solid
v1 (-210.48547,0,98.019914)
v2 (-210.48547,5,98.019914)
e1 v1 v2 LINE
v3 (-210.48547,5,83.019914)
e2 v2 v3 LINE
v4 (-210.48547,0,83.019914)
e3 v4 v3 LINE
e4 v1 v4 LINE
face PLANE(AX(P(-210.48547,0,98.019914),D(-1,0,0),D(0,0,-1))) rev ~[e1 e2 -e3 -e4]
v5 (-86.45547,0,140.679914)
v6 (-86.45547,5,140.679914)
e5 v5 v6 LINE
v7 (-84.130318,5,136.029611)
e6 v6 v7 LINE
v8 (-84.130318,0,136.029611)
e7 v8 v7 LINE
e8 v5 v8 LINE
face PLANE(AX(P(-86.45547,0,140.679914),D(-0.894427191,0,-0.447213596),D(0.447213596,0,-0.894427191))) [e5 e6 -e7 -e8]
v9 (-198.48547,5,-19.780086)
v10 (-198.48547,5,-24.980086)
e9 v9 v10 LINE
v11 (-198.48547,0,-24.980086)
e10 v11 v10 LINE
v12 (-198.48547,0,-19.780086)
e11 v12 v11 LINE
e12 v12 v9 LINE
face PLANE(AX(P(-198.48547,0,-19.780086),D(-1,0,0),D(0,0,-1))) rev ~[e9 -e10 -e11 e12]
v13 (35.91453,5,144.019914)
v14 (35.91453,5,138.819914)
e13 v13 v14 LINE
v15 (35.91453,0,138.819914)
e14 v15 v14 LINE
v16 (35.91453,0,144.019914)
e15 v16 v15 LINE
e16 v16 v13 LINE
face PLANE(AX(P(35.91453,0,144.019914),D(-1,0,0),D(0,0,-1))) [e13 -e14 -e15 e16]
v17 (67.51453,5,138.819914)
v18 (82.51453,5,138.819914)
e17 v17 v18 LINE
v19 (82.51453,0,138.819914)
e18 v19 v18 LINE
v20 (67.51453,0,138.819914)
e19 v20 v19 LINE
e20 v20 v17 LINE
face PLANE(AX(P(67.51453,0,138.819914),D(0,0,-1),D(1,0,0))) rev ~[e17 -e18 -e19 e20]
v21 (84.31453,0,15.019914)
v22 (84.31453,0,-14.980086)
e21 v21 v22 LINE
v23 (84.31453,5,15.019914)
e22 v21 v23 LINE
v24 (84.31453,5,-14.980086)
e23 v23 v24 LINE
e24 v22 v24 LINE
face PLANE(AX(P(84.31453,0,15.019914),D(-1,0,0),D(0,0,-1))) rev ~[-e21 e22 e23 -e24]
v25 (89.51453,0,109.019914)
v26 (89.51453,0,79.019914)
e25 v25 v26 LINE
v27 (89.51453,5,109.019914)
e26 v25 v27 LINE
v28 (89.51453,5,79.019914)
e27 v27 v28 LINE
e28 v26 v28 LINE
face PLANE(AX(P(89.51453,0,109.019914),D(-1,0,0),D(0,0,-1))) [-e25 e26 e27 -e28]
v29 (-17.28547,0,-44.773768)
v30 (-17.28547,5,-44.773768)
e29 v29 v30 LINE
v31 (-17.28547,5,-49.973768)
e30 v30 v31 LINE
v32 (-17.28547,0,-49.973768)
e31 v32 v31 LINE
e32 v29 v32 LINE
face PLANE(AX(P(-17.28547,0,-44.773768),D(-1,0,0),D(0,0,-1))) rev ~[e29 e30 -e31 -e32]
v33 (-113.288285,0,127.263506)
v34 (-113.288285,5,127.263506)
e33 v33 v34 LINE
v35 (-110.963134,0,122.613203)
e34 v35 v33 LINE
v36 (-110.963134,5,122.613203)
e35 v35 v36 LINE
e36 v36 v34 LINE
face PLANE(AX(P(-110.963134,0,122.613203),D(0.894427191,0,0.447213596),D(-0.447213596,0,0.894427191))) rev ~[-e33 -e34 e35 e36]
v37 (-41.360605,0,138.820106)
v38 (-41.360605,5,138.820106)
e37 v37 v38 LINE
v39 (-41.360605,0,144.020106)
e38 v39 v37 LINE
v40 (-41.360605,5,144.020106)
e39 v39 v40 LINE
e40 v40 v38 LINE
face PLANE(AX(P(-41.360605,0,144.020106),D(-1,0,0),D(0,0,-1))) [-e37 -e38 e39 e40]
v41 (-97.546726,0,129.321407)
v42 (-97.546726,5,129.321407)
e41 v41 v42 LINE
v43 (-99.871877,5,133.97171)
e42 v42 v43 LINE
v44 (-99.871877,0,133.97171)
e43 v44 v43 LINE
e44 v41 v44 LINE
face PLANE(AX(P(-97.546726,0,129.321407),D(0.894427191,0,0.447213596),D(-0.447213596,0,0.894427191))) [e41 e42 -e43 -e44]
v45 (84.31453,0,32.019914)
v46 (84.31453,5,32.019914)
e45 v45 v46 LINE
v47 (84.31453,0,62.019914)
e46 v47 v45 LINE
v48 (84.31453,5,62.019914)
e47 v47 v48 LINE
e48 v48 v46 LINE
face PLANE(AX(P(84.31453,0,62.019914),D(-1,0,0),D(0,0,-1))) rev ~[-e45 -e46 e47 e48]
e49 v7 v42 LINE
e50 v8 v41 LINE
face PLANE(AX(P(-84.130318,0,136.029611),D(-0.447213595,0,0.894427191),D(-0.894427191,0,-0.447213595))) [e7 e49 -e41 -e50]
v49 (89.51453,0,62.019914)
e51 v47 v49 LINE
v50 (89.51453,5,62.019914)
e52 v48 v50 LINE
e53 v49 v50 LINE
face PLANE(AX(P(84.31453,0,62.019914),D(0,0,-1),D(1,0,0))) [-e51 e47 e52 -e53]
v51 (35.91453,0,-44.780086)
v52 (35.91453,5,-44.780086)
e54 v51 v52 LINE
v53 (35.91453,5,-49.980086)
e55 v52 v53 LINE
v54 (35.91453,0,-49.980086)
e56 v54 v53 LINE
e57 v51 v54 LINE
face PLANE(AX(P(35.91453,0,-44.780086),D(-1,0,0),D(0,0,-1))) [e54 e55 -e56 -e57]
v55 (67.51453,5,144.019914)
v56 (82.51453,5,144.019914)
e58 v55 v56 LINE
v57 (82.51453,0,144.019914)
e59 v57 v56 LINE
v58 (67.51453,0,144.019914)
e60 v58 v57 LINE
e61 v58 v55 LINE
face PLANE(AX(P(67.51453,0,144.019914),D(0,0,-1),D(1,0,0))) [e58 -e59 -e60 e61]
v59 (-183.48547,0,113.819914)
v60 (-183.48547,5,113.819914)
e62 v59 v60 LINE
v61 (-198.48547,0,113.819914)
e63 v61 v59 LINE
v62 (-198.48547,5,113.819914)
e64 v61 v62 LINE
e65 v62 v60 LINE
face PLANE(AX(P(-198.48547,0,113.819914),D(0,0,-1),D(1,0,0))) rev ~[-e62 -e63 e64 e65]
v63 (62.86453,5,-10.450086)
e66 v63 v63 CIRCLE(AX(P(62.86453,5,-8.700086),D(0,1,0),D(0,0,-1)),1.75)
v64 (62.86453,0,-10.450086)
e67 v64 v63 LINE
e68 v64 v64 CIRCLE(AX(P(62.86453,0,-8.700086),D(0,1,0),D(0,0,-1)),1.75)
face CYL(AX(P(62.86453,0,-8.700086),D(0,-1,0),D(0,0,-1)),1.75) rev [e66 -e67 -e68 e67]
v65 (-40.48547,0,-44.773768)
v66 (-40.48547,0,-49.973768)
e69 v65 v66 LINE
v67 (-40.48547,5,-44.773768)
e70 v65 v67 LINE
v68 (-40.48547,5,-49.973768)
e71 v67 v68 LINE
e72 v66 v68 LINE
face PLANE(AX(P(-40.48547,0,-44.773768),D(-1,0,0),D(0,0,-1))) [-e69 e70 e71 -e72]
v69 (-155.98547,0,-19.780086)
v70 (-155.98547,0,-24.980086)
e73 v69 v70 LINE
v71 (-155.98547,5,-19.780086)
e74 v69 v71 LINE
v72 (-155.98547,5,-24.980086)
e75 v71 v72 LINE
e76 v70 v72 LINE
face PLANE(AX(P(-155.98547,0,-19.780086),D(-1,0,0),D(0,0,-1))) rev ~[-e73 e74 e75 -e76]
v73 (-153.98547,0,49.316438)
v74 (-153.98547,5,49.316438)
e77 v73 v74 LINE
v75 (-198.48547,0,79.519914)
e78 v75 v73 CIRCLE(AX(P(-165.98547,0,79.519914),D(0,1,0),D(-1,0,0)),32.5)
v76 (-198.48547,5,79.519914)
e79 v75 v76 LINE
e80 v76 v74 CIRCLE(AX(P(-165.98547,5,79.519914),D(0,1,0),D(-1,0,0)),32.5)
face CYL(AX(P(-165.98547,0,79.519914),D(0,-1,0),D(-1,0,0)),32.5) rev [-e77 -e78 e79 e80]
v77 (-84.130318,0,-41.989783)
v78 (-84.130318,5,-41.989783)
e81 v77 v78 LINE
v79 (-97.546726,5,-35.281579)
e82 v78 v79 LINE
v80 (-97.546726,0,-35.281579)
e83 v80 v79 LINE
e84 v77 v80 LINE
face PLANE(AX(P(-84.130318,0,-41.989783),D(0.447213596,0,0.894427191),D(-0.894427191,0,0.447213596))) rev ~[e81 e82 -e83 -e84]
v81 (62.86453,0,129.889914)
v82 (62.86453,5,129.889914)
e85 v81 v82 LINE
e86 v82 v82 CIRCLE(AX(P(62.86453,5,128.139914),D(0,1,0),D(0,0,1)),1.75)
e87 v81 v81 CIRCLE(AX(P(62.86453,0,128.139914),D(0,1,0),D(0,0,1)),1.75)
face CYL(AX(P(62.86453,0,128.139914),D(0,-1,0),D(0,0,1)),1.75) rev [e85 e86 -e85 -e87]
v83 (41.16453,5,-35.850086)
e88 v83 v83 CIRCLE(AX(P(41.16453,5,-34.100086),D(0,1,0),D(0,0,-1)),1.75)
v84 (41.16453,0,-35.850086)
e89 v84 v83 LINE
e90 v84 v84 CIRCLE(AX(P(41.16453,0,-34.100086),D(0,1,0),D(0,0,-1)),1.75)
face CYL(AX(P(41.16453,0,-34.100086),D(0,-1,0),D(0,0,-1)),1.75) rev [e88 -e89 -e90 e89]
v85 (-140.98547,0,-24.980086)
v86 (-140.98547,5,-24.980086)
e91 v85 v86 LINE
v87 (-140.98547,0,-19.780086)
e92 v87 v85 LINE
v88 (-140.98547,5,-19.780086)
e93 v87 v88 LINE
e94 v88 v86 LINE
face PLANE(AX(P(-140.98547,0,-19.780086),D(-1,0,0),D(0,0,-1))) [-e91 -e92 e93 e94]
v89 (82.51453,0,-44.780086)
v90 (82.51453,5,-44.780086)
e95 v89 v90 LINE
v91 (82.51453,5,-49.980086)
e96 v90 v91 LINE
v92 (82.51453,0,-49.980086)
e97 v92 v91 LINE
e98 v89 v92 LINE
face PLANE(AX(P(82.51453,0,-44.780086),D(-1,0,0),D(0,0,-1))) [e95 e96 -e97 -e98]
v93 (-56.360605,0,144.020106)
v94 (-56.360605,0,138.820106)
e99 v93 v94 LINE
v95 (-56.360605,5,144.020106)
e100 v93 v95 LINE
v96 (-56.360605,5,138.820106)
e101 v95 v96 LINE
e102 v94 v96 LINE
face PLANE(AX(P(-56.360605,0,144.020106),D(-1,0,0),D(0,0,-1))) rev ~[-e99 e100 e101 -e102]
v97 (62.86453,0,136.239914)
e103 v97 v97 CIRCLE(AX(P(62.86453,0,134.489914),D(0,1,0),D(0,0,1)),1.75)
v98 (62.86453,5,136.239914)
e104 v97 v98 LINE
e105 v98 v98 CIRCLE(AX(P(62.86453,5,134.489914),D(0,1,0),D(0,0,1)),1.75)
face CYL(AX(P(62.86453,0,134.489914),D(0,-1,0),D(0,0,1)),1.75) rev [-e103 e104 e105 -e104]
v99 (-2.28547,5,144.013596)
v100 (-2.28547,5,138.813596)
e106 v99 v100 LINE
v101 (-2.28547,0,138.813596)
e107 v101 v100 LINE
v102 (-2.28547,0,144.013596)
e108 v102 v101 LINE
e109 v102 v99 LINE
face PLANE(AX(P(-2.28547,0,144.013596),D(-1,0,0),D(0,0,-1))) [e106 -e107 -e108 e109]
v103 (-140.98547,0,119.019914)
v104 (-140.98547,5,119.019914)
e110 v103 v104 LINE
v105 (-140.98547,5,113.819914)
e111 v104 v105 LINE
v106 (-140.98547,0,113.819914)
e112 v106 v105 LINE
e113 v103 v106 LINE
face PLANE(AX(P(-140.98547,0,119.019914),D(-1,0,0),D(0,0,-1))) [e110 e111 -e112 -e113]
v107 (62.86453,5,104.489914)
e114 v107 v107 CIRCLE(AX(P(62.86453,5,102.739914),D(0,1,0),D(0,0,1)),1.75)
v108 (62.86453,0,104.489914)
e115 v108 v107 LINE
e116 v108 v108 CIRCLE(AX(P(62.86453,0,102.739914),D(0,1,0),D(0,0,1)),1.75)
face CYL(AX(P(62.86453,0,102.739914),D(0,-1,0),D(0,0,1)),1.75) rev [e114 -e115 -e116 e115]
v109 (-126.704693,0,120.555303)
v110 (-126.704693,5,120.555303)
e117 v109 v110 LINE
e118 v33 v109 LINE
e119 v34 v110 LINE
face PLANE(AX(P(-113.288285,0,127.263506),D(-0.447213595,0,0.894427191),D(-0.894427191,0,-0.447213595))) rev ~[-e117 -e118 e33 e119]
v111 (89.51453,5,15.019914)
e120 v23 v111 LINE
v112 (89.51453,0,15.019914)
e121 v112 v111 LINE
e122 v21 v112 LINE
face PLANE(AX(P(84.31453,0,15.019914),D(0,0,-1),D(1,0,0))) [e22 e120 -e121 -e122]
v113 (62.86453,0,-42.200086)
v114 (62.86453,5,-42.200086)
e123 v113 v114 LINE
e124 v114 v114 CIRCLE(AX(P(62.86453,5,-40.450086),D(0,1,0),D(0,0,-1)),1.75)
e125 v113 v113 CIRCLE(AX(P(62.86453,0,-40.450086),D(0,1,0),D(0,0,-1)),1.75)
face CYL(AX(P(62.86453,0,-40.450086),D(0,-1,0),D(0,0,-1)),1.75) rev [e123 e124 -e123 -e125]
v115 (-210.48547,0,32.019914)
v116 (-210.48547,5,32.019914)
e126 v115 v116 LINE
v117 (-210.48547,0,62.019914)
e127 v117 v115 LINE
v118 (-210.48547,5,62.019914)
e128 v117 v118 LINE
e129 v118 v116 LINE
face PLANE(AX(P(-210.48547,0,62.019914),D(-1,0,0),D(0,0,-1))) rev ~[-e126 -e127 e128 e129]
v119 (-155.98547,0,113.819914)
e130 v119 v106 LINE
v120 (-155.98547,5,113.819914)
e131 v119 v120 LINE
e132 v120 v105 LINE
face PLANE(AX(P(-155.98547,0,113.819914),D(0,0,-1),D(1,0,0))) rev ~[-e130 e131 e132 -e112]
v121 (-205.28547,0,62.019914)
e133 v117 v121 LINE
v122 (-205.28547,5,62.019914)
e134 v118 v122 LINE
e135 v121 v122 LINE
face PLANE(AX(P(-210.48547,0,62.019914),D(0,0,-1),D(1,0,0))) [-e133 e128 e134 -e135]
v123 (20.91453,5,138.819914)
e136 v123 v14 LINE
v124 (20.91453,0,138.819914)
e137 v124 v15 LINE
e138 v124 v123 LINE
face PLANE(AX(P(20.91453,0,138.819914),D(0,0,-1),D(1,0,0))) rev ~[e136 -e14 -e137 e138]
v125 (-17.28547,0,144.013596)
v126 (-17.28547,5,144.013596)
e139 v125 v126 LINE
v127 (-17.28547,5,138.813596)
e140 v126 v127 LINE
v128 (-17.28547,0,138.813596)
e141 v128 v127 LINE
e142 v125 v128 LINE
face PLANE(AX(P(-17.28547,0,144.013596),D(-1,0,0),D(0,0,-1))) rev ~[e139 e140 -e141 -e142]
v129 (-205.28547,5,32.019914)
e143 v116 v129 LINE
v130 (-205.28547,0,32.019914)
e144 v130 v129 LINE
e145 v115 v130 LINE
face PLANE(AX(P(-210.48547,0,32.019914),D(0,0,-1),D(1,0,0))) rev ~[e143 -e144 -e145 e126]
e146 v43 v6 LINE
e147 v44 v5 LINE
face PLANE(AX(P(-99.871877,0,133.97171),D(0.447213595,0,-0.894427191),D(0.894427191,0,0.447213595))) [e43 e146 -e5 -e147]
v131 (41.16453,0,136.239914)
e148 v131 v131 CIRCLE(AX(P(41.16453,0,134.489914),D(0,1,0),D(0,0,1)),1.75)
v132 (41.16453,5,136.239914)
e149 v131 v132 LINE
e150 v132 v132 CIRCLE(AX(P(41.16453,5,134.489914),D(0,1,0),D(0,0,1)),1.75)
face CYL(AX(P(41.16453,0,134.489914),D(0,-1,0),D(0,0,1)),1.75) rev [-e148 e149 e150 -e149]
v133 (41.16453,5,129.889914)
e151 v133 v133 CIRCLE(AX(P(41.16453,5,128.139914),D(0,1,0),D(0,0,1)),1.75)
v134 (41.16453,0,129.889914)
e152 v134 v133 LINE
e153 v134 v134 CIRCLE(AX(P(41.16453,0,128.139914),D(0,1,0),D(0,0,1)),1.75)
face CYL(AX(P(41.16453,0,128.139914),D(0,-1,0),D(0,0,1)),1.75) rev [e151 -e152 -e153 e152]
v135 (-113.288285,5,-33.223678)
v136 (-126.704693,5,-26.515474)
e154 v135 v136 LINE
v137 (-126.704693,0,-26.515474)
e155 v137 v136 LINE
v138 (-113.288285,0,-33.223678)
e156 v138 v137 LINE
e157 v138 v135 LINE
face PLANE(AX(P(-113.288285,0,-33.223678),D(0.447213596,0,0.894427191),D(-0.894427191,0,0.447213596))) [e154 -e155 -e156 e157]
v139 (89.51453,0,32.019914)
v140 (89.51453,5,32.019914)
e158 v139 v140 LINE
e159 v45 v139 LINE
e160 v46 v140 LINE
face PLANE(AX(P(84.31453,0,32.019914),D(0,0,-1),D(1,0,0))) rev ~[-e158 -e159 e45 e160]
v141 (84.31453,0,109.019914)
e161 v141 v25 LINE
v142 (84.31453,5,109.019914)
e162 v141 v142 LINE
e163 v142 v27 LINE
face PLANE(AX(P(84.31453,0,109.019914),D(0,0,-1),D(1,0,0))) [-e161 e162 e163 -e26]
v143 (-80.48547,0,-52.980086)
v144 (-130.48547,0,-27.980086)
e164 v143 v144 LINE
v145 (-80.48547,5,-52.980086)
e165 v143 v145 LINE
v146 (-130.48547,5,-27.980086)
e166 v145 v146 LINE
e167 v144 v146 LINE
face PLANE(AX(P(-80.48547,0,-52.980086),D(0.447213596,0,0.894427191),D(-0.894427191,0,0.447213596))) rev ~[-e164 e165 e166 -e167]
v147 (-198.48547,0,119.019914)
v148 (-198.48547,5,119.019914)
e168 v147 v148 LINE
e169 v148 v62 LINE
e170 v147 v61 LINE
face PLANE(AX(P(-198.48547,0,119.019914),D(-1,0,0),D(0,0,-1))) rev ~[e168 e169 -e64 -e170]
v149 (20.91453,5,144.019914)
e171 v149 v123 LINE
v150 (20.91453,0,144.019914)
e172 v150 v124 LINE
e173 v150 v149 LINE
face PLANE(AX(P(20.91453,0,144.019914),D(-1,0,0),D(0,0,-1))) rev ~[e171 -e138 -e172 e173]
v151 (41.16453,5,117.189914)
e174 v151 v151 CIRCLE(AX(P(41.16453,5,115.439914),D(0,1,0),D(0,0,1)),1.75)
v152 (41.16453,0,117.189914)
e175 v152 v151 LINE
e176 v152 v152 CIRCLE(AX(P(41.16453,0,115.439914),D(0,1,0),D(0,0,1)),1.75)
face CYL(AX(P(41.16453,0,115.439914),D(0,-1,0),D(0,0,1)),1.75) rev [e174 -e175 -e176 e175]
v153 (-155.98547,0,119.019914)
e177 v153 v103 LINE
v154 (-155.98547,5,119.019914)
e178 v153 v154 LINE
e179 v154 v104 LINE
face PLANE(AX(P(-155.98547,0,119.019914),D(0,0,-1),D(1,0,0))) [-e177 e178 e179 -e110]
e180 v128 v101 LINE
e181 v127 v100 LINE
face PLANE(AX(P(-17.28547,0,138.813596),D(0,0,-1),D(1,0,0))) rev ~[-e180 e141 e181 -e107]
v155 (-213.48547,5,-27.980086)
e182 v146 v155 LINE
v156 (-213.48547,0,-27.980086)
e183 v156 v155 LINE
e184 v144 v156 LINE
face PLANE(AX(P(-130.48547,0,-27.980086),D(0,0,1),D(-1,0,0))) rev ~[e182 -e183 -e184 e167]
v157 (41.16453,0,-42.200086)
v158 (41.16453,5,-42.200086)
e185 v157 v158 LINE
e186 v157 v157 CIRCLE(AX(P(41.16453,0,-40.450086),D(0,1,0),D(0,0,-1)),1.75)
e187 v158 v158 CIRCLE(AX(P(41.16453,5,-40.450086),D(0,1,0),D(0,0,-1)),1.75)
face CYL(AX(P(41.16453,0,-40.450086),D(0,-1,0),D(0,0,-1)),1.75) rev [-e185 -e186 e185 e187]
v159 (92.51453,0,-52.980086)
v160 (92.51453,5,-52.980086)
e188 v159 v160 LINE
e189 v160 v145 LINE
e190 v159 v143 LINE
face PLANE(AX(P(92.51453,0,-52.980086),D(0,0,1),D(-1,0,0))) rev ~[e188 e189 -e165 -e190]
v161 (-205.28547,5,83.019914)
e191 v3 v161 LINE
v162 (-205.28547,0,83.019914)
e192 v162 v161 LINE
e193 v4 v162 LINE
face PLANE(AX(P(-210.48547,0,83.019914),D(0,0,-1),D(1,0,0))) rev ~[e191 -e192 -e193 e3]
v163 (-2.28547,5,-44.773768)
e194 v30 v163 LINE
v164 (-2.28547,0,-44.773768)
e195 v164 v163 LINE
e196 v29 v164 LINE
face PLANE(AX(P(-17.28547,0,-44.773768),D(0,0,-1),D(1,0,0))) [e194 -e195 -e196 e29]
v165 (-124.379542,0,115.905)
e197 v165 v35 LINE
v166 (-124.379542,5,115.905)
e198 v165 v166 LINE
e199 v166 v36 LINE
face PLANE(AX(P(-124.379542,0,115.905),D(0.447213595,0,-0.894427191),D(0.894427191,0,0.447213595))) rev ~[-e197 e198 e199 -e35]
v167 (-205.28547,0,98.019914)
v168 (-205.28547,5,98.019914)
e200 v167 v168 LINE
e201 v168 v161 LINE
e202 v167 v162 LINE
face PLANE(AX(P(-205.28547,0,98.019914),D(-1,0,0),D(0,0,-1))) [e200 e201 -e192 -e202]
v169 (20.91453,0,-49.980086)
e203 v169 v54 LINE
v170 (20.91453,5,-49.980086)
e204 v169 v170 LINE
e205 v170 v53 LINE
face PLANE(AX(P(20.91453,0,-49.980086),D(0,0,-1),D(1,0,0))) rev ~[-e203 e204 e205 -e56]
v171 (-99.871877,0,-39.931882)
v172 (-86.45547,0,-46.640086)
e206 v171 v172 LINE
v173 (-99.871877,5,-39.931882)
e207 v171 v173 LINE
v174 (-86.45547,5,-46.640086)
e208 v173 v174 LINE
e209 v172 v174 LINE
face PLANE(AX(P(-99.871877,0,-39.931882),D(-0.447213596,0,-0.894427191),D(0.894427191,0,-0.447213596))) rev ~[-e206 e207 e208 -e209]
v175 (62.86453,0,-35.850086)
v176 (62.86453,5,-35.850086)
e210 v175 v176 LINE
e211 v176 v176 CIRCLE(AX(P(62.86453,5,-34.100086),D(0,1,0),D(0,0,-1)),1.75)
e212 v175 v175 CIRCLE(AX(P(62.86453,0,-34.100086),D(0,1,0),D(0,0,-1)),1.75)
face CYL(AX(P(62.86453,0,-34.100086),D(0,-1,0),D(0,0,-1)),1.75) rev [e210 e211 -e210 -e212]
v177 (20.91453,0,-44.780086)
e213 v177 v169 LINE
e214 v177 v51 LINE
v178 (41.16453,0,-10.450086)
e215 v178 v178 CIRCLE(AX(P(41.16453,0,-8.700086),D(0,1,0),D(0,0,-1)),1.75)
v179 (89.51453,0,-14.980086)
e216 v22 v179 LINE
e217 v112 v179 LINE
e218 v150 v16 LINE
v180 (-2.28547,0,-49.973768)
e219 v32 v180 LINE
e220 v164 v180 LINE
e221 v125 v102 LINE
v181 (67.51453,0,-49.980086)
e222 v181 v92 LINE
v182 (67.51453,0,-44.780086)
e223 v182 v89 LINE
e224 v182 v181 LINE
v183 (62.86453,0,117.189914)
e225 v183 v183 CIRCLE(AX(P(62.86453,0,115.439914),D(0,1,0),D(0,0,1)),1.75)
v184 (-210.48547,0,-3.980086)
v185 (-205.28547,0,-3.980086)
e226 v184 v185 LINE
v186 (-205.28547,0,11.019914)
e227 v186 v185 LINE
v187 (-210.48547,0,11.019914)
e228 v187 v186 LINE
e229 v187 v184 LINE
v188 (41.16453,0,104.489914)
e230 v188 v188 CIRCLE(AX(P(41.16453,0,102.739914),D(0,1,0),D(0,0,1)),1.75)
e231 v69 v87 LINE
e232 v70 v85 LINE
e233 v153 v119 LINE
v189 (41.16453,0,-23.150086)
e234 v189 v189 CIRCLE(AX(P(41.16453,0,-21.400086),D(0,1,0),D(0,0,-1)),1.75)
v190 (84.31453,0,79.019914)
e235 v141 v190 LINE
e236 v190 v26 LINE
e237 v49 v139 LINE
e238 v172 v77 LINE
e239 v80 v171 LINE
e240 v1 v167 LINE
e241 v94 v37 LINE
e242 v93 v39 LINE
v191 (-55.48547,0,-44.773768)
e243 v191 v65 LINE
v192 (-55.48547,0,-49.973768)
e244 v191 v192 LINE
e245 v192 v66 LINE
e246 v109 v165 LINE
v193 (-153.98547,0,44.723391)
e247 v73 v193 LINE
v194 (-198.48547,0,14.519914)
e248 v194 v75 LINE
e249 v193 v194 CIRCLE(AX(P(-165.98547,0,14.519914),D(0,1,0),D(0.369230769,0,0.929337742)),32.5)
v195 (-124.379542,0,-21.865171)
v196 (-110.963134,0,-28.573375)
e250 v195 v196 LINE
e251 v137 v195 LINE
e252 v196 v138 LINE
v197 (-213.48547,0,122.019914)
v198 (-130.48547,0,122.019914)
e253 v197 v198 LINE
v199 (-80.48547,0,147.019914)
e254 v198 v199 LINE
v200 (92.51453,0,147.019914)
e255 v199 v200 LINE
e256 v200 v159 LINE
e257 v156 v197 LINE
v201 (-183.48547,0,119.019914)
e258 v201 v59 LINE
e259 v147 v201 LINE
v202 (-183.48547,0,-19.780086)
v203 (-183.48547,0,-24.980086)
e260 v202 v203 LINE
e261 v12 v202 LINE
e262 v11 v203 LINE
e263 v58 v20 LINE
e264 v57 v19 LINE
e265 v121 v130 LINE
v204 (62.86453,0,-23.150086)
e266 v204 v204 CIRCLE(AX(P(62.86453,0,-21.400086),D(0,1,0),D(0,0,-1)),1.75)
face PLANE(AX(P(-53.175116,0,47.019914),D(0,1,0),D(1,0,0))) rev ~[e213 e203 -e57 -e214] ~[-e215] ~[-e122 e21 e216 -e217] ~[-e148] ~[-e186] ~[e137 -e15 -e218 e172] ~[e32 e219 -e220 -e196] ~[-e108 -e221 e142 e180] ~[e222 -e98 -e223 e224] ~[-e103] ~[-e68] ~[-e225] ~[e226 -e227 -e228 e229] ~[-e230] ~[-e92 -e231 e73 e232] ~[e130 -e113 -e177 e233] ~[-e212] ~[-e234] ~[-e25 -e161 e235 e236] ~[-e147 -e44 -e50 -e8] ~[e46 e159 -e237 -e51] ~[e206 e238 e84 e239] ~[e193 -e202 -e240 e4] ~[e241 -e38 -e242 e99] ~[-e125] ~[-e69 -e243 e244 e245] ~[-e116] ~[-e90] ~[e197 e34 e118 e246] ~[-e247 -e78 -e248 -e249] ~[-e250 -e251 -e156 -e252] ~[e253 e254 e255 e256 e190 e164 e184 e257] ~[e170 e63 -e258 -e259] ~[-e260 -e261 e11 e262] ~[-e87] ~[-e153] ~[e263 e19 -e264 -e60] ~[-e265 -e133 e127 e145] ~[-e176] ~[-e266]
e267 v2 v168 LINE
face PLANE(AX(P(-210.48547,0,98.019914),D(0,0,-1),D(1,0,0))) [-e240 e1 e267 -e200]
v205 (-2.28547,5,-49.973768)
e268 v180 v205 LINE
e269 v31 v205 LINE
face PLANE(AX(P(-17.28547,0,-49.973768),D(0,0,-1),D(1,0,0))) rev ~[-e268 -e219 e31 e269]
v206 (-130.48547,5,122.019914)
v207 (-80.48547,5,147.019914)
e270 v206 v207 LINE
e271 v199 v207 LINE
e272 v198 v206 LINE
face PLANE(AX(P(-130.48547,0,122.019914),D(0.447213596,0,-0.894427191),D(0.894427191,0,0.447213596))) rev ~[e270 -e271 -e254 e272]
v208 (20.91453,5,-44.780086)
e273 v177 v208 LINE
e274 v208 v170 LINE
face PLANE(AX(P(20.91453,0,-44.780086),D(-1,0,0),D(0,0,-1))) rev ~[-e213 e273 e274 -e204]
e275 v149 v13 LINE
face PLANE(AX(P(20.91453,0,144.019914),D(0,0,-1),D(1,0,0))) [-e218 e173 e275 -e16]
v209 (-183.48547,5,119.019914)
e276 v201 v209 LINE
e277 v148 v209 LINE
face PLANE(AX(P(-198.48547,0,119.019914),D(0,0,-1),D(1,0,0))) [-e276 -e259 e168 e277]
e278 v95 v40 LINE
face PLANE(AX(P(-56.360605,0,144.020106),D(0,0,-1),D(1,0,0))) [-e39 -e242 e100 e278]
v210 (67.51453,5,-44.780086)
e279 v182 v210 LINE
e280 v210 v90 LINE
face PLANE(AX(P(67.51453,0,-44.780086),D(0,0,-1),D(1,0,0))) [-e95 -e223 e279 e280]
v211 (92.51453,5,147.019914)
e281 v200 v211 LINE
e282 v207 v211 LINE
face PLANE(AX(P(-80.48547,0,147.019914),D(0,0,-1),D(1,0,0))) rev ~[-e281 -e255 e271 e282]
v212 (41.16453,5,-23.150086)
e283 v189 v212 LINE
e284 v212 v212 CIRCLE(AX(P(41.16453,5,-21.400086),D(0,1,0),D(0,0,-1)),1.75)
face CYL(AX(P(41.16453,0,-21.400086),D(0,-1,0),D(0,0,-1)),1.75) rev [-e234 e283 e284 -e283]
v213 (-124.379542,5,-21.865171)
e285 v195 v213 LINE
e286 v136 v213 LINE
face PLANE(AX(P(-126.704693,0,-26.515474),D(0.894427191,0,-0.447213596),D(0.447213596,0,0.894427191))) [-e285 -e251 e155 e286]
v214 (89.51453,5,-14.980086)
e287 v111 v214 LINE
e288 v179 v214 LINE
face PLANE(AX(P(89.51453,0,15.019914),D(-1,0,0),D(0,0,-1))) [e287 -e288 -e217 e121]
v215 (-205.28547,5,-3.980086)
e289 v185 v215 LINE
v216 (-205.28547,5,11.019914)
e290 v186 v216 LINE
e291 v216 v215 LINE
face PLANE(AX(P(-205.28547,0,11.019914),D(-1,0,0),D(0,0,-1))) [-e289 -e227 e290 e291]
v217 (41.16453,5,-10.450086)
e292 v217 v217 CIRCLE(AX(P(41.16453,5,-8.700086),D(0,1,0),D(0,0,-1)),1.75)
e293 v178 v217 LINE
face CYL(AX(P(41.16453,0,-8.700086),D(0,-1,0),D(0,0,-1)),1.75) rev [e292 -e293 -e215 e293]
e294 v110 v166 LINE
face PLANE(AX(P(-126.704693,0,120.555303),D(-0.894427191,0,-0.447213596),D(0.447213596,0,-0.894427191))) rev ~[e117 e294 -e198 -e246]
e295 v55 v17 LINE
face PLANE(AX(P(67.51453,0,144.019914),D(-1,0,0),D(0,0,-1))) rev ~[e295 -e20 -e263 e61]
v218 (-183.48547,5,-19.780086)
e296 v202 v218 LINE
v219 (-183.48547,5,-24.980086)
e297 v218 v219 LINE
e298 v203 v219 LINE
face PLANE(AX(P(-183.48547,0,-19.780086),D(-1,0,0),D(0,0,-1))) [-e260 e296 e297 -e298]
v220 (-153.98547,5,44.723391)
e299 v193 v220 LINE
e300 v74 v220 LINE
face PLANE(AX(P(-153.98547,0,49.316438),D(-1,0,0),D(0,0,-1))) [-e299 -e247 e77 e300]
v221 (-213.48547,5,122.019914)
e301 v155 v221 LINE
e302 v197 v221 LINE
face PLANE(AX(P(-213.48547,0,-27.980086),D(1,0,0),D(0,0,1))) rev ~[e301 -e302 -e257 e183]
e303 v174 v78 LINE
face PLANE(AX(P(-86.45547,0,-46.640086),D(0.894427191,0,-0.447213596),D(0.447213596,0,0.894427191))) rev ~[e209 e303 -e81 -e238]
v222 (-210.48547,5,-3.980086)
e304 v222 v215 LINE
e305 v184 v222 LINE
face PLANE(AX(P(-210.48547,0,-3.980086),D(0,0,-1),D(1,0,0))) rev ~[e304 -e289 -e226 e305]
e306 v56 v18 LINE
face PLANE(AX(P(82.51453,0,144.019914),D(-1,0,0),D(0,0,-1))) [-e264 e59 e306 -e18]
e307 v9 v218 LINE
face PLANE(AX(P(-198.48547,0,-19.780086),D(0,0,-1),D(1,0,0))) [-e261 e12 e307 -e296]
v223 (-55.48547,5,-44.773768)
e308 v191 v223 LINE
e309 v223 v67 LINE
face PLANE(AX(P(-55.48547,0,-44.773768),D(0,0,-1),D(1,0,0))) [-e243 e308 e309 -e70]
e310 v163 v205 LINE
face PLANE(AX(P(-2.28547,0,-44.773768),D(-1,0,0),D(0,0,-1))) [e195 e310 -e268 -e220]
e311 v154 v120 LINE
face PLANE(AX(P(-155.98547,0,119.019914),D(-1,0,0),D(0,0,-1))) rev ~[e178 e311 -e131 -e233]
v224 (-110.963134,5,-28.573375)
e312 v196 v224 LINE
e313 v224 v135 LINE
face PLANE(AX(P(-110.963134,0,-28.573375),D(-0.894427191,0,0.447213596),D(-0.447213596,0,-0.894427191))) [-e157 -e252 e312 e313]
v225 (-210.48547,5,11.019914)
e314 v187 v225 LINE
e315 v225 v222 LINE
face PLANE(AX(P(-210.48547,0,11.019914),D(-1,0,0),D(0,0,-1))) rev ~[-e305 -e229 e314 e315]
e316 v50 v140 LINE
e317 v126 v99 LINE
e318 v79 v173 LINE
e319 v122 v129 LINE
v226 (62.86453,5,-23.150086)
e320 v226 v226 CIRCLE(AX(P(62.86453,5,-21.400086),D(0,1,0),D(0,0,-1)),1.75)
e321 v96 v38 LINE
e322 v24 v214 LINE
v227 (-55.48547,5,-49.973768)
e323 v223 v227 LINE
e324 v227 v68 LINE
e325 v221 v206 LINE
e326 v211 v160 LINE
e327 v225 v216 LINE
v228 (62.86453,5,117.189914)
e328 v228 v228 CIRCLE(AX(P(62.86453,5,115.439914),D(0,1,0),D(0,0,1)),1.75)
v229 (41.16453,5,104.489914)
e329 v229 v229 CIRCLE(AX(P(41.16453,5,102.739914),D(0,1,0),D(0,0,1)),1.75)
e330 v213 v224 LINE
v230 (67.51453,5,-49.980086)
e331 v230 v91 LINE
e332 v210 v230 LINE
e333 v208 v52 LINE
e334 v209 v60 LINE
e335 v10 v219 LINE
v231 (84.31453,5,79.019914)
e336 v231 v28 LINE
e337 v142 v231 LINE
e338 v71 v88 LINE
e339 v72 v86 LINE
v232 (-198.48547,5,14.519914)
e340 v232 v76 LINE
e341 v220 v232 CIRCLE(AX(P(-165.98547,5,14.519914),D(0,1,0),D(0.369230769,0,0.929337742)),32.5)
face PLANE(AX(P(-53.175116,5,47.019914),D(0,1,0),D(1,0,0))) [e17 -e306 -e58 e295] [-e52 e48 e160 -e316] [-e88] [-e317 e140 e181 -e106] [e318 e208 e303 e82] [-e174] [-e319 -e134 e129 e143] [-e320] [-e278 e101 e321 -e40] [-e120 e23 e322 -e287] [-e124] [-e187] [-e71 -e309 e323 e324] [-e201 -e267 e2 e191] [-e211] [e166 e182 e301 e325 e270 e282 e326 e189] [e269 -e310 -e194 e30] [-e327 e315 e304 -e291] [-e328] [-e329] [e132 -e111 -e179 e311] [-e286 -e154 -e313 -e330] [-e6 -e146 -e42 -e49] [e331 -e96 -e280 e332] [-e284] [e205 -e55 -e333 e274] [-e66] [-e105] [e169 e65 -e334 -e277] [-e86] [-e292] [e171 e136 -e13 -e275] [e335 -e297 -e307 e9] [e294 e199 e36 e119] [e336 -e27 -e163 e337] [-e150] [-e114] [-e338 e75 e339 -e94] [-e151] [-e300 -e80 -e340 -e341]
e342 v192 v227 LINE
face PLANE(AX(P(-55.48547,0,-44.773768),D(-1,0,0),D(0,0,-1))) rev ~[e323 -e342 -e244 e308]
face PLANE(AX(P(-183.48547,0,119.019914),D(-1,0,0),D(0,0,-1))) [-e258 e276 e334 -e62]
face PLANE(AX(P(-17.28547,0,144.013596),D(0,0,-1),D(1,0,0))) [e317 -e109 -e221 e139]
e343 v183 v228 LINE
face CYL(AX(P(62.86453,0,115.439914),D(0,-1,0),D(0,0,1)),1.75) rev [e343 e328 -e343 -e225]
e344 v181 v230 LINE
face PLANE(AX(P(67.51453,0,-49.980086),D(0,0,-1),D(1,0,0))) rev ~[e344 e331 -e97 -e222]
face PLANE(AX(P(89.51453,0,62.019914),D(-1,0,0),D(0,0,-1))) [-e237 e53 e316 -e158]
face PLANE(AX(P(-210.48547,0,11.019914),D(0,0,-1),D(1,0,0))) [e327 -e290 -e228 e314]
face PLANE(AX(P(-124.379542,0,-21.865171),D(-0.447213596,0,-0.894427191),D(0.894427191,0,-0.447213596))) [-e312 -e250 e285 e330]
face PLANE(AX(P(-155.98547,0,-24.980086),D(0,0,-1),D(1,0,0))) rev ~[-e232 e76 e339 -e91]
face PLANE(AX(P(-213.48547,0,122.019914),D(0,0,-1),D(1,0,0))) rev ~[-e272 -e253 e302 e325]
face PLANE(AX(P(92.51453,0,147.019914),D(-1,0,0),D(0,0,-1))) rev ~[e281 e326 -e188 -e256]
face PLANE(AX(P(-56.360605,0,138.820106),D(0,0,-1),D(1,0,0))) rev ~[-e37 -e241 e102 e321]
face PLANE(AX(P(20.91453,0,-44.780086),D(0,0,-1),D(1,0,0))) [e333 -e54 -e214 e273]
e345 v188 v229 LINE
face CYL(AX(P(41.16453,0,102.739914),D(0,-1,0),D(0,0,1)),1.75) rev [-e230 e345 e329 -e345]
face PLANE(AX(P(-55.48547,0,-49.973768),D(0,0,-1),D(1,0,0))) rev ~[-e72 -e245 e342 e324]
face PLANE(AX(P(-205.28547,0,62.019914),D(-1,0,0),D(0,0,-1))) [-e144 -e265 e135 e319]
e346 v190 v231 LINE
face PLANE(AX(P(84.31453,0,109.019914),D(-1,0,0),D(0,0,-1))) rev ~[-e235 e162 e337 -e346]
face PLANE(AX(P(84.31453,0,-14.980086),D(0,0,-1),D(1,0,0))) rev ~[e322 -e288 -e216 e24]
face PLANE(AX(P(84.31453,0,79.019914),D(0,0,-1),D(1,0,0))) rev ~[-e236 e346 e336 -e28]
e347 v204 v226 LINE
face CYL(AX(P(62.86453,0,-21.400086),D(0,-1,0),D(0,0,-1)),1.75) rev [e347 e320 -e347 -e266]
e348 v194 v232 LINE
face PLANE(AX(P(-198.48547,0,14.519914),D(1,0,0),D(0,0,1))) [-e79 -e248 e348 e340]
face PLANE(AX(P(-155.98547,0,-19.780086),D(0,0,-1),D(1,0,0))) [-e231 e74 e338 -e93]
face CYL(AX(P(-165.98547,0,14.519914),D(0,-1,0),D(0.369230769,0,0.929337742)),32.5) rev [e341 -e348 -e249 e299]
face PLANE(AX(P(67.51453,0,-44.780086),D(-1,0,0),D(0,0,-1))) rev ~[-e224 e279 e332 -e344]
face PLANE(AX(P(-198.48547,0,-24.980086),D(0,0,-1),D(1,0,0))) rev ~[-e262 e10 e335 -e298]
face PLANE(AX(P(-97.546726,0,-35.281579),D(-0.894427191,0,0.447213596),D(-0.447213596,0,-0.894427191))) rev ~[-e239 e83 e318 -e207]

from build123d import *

# Parameters (mm, degrees)
SKETCH1_R           = 1.75
SKETCH1_W           = 15
SKETCH1_H           = 5.2
SKETCH1_W_2         = 5.2
SKETCH1_H_2         = 30
SKETCH1_H_3         = 15
BOSS_EXTRUDE1_DEPTH = 5


with BuildPart() as part:
    # Sketch1 → Boss-Extrude1 (new body)
    with BuildSketch(Plane(origin=(0, 0, 0), x_dir=(1, 0, 0), z_dir=(0, 1, 0))):
        Polygon((92.514530464, -147.019914311), (92.514530464, 52.980085689), (-80.485469536, 52.980085689), (-130.485469536, 27.980085689), (-213.485469536, 27.980085689), (-213.485469536, -122.019914311), (-130.485469536, -122.019914311), (-80.485469536, -147.019914311), align=None)
        with Locations(Location((62.864530464, -134.489914311, 0), (0, 0, 270))):
            Circle(SKETCH1_R, mode=Mode.SUBTRACT)
        with Locations(Location((41.164530464, -134.489914311, 0), (0, 0, 270))):
            Circle(SKETCH1_R, mode=Mode.SUBTRACT)
        with Locations(Location((62.864530464, -128.139914311, 0), (0, 0, 270))):
            Circle(SKETCH1_R, mode=Mode.SUBTRACT)
        with Locations(Location((41.164530464, -128.139914311, 0), (0, 0, 270))):
            Circle(SKETCH1_R, mode=Mode.SUBTRACT)
        with Locations(Location((62.864530464, -115.439914311, 0), (0, 0, 270))):
            Circle(SKETCH1_R, mode=Mode.SUBTRACT)
        with Locations(Location((41.164530464, -115.439914311, 0), (0, 0, 270))):
            Circle(SKETCH1_R, mode=Mode.SUBTRACT)
        with Locations(Location((62.864530464, -102.739914311, 0), (0, 0, 270))):
            Circle(SKETCH1_R, mode=Mode.SUBTRACT)
        with Locations(Location((41.164530464, -102.739914311, 0), (0, 0, 270))):
            Circle(SKETCH1_R, mode=Mode.SUBTRACT)
        with Locations(Location((41.164530464, 8.700085689, 0), (0, 0, 90))):
            Circle(SKETCH1_R, mode=Mode.SUBTRACT)
        with Locations(Location((41.164530464, 21.400085689, 0), (0, 0, 90))):
            Circle(SKETCH1_R, mode=Mode.SUBTRACT)
        with Locations(Location((41.164530464, 34.100085689, 0), (0, 0, 90))):
            Circle(SKETCH1_R, mode=Mode.SUBTRACT)
        with Locations(Location((41.164530464, 40.450085689, 0), (0, 0, 90))):
            Circle(SKETCH1_R, mode=Mode.SUBTRACT)
        with Locations(Location((62.864530464, 8.700085689, 0), (0, 0, 90))):
            Circle(SKETCH1_R, mode=Mode.SUBTRACT)
        with Locations(Location((62.864530464, 21.400085689, 0), (0, 0, 90))):
            Circle(SKETCH1_R, mode=Mode.SUBTRACT)
        with Locations(Location((62.864530464, 34.100085689, 0), (0, 0, 90))):
            Circle(SKETCH1_R, mode=Mode.SUBTRACT)
        with Locations(Location((62.864530464, 40.450085689, 0), (0, 0, 90))):
            Circle(SKETCH1_R, mode=Mode.SUBTRACT)
        with Locations((75.014530464, 47.380085689)):
            Rectangle(SKETCH1_W, SKETCH1_H, mode=Mode.SUBTRACT)
        with Locations((75.014530464, -141.419914311)):
            Rectangle(SKETCH1_W, SKETCH1_H, mode=Mode.SUBTRACT)
        with Locations((86.914530464, -0.019914311)):
            Rectangle(SKETCH1_W_2, SKETCH1_H_2, mode=Mode.SUBTRACT)
        with Locations((86.914530464, -47.019914311)):
            Rectangle(SKETCH1_W_2, SKETCH1_H_2, mode=Mode.SUBTRACT)
        with Locations((86.914530464, -94.019914311)):
            Rectangle(SKETCH1_W_2, SKETCH1_H_2, mode=Mode.SUBTRACT)
        with Locations((-9.785469536, 47.373767599)):
            Rectangle(SKETCH1_W, SKETCH1_H, mode=Mode.SUBTRACT)
        with Locations((-47.985469536, 47.373767599)):
            Rectangle(SKETCH1_W, SKETCH1_H, mode=Mode.SUBTRACT)
        with Locations((-148.485469536, 22.380085689)):
            Rectangle(SKETCH1_W, SKETCH1_H, mode=Mode.SUBTRACT)
        with Locations((-190.985469536, 22.380085689)):
            Rectangle(SKETCH1_W, SKETCH1_H, mode=Mode.SUBTRACT)
        with Locations((-207.885469536, -3.519914311)):
            Rectangle(SKETCH1_W_2, SKETCH1_H_3, mode=Mode.SUBTRACT)
        with Locations((-207.885469536, -47.019914311)):
            Rectangle(SKETCH1_W_2, SKETCH1_H_2, mode=Mode.SUBTRACT)
        with Locations((-207.885469536, -90.519914311)):
            Rectangle(SKETCH1_W_2, SKETCH1_H_3, mode=Mode.SUBTRACT)
        with Locations((-48.86060515, -141.420106162)):
            Rectangle(SKETCH1_W, SKETCH1_H, mode=Mode.SUBTRACT)
        with Locations((-148.485469536, -116.419914311)):
            Rectangle(SKETCH1_W, SKETCH1_H, mode=Mode.SUBTRACT)
        with Locations((-190.985469536, -116.419914311)):
            Rectangle(SKETCH1_W, SKETCH1_H, mode=Mode.SUBTRACT)
        with Locations((28.414530464, 47.380085689)):
            Rectangle(SKETCH1_W, SKETCH1_H, mode=Mode.SUBTRACT)
        with BuildLine():
            Line((-153.985469536, -47.019914311), (-153.985469536, -44.723390932))
            ThreePointArc((-153.985469536, -44.723390932), (-147.733757287, 12.371069308), (-198.485469536, -14.519914311))
            Line((-198.485469536, -14.519914311), (-198.485469536, -79.519914311))
            ThreePointArc((-198.485469536, -79.519914311), (-147.733757287, -106.41089793), (-153.985469536, -49.31643769))
            Line((-153.985469536, -49.31643769), (-153.985469536, -47.019914311))
        make_face(mode=Mode.SUBTRACT)
        with Locations((28.414530464, -141.419914311)):
            Rectangle(SKETCH1_W, SKETCH1_H, mode=Mode.SUBTRACT)
        with Locations((-9.785469536, -141.413596222)):
            Rectangle(SKETCH1_W, SKETCH1_H, mode=Mode.SUBTRACT)
        Polygon((-110.963133782, 28.573374858), (-113.288285266, 33.223677824), (-126.704693131, 26.515473891), (-124.379541647, 21.865170925), align=None, mode=Mode.SUBTRACT)
        Polygon((-86.455469536, 46.640085689), (-84.130318052, 41.989782723), (-97.546725917, 35.28157879), (-99.871877401, 39.931881756), align=None, mode=Mode.SUBTRACT)
        Polygon((-99.871877401, -133.971710379), (-86.455469536, -140.679914311), (-84.130318052, -136.029611345), (-97.546725917, -129.321407413), align=None, mode=Mode.SUBTRACT)
        Polygon((-124.379541647, -115.904999548), (-110.963133782, -122.61320348), (-113.288285266, -127.263506446), (-126.704693131, -120.555302514), align=None, mode=Mode.SUBTRACT)
    extrude(amount=BOSS_EXTRUDE1_DEPTH)


solid = part.part
